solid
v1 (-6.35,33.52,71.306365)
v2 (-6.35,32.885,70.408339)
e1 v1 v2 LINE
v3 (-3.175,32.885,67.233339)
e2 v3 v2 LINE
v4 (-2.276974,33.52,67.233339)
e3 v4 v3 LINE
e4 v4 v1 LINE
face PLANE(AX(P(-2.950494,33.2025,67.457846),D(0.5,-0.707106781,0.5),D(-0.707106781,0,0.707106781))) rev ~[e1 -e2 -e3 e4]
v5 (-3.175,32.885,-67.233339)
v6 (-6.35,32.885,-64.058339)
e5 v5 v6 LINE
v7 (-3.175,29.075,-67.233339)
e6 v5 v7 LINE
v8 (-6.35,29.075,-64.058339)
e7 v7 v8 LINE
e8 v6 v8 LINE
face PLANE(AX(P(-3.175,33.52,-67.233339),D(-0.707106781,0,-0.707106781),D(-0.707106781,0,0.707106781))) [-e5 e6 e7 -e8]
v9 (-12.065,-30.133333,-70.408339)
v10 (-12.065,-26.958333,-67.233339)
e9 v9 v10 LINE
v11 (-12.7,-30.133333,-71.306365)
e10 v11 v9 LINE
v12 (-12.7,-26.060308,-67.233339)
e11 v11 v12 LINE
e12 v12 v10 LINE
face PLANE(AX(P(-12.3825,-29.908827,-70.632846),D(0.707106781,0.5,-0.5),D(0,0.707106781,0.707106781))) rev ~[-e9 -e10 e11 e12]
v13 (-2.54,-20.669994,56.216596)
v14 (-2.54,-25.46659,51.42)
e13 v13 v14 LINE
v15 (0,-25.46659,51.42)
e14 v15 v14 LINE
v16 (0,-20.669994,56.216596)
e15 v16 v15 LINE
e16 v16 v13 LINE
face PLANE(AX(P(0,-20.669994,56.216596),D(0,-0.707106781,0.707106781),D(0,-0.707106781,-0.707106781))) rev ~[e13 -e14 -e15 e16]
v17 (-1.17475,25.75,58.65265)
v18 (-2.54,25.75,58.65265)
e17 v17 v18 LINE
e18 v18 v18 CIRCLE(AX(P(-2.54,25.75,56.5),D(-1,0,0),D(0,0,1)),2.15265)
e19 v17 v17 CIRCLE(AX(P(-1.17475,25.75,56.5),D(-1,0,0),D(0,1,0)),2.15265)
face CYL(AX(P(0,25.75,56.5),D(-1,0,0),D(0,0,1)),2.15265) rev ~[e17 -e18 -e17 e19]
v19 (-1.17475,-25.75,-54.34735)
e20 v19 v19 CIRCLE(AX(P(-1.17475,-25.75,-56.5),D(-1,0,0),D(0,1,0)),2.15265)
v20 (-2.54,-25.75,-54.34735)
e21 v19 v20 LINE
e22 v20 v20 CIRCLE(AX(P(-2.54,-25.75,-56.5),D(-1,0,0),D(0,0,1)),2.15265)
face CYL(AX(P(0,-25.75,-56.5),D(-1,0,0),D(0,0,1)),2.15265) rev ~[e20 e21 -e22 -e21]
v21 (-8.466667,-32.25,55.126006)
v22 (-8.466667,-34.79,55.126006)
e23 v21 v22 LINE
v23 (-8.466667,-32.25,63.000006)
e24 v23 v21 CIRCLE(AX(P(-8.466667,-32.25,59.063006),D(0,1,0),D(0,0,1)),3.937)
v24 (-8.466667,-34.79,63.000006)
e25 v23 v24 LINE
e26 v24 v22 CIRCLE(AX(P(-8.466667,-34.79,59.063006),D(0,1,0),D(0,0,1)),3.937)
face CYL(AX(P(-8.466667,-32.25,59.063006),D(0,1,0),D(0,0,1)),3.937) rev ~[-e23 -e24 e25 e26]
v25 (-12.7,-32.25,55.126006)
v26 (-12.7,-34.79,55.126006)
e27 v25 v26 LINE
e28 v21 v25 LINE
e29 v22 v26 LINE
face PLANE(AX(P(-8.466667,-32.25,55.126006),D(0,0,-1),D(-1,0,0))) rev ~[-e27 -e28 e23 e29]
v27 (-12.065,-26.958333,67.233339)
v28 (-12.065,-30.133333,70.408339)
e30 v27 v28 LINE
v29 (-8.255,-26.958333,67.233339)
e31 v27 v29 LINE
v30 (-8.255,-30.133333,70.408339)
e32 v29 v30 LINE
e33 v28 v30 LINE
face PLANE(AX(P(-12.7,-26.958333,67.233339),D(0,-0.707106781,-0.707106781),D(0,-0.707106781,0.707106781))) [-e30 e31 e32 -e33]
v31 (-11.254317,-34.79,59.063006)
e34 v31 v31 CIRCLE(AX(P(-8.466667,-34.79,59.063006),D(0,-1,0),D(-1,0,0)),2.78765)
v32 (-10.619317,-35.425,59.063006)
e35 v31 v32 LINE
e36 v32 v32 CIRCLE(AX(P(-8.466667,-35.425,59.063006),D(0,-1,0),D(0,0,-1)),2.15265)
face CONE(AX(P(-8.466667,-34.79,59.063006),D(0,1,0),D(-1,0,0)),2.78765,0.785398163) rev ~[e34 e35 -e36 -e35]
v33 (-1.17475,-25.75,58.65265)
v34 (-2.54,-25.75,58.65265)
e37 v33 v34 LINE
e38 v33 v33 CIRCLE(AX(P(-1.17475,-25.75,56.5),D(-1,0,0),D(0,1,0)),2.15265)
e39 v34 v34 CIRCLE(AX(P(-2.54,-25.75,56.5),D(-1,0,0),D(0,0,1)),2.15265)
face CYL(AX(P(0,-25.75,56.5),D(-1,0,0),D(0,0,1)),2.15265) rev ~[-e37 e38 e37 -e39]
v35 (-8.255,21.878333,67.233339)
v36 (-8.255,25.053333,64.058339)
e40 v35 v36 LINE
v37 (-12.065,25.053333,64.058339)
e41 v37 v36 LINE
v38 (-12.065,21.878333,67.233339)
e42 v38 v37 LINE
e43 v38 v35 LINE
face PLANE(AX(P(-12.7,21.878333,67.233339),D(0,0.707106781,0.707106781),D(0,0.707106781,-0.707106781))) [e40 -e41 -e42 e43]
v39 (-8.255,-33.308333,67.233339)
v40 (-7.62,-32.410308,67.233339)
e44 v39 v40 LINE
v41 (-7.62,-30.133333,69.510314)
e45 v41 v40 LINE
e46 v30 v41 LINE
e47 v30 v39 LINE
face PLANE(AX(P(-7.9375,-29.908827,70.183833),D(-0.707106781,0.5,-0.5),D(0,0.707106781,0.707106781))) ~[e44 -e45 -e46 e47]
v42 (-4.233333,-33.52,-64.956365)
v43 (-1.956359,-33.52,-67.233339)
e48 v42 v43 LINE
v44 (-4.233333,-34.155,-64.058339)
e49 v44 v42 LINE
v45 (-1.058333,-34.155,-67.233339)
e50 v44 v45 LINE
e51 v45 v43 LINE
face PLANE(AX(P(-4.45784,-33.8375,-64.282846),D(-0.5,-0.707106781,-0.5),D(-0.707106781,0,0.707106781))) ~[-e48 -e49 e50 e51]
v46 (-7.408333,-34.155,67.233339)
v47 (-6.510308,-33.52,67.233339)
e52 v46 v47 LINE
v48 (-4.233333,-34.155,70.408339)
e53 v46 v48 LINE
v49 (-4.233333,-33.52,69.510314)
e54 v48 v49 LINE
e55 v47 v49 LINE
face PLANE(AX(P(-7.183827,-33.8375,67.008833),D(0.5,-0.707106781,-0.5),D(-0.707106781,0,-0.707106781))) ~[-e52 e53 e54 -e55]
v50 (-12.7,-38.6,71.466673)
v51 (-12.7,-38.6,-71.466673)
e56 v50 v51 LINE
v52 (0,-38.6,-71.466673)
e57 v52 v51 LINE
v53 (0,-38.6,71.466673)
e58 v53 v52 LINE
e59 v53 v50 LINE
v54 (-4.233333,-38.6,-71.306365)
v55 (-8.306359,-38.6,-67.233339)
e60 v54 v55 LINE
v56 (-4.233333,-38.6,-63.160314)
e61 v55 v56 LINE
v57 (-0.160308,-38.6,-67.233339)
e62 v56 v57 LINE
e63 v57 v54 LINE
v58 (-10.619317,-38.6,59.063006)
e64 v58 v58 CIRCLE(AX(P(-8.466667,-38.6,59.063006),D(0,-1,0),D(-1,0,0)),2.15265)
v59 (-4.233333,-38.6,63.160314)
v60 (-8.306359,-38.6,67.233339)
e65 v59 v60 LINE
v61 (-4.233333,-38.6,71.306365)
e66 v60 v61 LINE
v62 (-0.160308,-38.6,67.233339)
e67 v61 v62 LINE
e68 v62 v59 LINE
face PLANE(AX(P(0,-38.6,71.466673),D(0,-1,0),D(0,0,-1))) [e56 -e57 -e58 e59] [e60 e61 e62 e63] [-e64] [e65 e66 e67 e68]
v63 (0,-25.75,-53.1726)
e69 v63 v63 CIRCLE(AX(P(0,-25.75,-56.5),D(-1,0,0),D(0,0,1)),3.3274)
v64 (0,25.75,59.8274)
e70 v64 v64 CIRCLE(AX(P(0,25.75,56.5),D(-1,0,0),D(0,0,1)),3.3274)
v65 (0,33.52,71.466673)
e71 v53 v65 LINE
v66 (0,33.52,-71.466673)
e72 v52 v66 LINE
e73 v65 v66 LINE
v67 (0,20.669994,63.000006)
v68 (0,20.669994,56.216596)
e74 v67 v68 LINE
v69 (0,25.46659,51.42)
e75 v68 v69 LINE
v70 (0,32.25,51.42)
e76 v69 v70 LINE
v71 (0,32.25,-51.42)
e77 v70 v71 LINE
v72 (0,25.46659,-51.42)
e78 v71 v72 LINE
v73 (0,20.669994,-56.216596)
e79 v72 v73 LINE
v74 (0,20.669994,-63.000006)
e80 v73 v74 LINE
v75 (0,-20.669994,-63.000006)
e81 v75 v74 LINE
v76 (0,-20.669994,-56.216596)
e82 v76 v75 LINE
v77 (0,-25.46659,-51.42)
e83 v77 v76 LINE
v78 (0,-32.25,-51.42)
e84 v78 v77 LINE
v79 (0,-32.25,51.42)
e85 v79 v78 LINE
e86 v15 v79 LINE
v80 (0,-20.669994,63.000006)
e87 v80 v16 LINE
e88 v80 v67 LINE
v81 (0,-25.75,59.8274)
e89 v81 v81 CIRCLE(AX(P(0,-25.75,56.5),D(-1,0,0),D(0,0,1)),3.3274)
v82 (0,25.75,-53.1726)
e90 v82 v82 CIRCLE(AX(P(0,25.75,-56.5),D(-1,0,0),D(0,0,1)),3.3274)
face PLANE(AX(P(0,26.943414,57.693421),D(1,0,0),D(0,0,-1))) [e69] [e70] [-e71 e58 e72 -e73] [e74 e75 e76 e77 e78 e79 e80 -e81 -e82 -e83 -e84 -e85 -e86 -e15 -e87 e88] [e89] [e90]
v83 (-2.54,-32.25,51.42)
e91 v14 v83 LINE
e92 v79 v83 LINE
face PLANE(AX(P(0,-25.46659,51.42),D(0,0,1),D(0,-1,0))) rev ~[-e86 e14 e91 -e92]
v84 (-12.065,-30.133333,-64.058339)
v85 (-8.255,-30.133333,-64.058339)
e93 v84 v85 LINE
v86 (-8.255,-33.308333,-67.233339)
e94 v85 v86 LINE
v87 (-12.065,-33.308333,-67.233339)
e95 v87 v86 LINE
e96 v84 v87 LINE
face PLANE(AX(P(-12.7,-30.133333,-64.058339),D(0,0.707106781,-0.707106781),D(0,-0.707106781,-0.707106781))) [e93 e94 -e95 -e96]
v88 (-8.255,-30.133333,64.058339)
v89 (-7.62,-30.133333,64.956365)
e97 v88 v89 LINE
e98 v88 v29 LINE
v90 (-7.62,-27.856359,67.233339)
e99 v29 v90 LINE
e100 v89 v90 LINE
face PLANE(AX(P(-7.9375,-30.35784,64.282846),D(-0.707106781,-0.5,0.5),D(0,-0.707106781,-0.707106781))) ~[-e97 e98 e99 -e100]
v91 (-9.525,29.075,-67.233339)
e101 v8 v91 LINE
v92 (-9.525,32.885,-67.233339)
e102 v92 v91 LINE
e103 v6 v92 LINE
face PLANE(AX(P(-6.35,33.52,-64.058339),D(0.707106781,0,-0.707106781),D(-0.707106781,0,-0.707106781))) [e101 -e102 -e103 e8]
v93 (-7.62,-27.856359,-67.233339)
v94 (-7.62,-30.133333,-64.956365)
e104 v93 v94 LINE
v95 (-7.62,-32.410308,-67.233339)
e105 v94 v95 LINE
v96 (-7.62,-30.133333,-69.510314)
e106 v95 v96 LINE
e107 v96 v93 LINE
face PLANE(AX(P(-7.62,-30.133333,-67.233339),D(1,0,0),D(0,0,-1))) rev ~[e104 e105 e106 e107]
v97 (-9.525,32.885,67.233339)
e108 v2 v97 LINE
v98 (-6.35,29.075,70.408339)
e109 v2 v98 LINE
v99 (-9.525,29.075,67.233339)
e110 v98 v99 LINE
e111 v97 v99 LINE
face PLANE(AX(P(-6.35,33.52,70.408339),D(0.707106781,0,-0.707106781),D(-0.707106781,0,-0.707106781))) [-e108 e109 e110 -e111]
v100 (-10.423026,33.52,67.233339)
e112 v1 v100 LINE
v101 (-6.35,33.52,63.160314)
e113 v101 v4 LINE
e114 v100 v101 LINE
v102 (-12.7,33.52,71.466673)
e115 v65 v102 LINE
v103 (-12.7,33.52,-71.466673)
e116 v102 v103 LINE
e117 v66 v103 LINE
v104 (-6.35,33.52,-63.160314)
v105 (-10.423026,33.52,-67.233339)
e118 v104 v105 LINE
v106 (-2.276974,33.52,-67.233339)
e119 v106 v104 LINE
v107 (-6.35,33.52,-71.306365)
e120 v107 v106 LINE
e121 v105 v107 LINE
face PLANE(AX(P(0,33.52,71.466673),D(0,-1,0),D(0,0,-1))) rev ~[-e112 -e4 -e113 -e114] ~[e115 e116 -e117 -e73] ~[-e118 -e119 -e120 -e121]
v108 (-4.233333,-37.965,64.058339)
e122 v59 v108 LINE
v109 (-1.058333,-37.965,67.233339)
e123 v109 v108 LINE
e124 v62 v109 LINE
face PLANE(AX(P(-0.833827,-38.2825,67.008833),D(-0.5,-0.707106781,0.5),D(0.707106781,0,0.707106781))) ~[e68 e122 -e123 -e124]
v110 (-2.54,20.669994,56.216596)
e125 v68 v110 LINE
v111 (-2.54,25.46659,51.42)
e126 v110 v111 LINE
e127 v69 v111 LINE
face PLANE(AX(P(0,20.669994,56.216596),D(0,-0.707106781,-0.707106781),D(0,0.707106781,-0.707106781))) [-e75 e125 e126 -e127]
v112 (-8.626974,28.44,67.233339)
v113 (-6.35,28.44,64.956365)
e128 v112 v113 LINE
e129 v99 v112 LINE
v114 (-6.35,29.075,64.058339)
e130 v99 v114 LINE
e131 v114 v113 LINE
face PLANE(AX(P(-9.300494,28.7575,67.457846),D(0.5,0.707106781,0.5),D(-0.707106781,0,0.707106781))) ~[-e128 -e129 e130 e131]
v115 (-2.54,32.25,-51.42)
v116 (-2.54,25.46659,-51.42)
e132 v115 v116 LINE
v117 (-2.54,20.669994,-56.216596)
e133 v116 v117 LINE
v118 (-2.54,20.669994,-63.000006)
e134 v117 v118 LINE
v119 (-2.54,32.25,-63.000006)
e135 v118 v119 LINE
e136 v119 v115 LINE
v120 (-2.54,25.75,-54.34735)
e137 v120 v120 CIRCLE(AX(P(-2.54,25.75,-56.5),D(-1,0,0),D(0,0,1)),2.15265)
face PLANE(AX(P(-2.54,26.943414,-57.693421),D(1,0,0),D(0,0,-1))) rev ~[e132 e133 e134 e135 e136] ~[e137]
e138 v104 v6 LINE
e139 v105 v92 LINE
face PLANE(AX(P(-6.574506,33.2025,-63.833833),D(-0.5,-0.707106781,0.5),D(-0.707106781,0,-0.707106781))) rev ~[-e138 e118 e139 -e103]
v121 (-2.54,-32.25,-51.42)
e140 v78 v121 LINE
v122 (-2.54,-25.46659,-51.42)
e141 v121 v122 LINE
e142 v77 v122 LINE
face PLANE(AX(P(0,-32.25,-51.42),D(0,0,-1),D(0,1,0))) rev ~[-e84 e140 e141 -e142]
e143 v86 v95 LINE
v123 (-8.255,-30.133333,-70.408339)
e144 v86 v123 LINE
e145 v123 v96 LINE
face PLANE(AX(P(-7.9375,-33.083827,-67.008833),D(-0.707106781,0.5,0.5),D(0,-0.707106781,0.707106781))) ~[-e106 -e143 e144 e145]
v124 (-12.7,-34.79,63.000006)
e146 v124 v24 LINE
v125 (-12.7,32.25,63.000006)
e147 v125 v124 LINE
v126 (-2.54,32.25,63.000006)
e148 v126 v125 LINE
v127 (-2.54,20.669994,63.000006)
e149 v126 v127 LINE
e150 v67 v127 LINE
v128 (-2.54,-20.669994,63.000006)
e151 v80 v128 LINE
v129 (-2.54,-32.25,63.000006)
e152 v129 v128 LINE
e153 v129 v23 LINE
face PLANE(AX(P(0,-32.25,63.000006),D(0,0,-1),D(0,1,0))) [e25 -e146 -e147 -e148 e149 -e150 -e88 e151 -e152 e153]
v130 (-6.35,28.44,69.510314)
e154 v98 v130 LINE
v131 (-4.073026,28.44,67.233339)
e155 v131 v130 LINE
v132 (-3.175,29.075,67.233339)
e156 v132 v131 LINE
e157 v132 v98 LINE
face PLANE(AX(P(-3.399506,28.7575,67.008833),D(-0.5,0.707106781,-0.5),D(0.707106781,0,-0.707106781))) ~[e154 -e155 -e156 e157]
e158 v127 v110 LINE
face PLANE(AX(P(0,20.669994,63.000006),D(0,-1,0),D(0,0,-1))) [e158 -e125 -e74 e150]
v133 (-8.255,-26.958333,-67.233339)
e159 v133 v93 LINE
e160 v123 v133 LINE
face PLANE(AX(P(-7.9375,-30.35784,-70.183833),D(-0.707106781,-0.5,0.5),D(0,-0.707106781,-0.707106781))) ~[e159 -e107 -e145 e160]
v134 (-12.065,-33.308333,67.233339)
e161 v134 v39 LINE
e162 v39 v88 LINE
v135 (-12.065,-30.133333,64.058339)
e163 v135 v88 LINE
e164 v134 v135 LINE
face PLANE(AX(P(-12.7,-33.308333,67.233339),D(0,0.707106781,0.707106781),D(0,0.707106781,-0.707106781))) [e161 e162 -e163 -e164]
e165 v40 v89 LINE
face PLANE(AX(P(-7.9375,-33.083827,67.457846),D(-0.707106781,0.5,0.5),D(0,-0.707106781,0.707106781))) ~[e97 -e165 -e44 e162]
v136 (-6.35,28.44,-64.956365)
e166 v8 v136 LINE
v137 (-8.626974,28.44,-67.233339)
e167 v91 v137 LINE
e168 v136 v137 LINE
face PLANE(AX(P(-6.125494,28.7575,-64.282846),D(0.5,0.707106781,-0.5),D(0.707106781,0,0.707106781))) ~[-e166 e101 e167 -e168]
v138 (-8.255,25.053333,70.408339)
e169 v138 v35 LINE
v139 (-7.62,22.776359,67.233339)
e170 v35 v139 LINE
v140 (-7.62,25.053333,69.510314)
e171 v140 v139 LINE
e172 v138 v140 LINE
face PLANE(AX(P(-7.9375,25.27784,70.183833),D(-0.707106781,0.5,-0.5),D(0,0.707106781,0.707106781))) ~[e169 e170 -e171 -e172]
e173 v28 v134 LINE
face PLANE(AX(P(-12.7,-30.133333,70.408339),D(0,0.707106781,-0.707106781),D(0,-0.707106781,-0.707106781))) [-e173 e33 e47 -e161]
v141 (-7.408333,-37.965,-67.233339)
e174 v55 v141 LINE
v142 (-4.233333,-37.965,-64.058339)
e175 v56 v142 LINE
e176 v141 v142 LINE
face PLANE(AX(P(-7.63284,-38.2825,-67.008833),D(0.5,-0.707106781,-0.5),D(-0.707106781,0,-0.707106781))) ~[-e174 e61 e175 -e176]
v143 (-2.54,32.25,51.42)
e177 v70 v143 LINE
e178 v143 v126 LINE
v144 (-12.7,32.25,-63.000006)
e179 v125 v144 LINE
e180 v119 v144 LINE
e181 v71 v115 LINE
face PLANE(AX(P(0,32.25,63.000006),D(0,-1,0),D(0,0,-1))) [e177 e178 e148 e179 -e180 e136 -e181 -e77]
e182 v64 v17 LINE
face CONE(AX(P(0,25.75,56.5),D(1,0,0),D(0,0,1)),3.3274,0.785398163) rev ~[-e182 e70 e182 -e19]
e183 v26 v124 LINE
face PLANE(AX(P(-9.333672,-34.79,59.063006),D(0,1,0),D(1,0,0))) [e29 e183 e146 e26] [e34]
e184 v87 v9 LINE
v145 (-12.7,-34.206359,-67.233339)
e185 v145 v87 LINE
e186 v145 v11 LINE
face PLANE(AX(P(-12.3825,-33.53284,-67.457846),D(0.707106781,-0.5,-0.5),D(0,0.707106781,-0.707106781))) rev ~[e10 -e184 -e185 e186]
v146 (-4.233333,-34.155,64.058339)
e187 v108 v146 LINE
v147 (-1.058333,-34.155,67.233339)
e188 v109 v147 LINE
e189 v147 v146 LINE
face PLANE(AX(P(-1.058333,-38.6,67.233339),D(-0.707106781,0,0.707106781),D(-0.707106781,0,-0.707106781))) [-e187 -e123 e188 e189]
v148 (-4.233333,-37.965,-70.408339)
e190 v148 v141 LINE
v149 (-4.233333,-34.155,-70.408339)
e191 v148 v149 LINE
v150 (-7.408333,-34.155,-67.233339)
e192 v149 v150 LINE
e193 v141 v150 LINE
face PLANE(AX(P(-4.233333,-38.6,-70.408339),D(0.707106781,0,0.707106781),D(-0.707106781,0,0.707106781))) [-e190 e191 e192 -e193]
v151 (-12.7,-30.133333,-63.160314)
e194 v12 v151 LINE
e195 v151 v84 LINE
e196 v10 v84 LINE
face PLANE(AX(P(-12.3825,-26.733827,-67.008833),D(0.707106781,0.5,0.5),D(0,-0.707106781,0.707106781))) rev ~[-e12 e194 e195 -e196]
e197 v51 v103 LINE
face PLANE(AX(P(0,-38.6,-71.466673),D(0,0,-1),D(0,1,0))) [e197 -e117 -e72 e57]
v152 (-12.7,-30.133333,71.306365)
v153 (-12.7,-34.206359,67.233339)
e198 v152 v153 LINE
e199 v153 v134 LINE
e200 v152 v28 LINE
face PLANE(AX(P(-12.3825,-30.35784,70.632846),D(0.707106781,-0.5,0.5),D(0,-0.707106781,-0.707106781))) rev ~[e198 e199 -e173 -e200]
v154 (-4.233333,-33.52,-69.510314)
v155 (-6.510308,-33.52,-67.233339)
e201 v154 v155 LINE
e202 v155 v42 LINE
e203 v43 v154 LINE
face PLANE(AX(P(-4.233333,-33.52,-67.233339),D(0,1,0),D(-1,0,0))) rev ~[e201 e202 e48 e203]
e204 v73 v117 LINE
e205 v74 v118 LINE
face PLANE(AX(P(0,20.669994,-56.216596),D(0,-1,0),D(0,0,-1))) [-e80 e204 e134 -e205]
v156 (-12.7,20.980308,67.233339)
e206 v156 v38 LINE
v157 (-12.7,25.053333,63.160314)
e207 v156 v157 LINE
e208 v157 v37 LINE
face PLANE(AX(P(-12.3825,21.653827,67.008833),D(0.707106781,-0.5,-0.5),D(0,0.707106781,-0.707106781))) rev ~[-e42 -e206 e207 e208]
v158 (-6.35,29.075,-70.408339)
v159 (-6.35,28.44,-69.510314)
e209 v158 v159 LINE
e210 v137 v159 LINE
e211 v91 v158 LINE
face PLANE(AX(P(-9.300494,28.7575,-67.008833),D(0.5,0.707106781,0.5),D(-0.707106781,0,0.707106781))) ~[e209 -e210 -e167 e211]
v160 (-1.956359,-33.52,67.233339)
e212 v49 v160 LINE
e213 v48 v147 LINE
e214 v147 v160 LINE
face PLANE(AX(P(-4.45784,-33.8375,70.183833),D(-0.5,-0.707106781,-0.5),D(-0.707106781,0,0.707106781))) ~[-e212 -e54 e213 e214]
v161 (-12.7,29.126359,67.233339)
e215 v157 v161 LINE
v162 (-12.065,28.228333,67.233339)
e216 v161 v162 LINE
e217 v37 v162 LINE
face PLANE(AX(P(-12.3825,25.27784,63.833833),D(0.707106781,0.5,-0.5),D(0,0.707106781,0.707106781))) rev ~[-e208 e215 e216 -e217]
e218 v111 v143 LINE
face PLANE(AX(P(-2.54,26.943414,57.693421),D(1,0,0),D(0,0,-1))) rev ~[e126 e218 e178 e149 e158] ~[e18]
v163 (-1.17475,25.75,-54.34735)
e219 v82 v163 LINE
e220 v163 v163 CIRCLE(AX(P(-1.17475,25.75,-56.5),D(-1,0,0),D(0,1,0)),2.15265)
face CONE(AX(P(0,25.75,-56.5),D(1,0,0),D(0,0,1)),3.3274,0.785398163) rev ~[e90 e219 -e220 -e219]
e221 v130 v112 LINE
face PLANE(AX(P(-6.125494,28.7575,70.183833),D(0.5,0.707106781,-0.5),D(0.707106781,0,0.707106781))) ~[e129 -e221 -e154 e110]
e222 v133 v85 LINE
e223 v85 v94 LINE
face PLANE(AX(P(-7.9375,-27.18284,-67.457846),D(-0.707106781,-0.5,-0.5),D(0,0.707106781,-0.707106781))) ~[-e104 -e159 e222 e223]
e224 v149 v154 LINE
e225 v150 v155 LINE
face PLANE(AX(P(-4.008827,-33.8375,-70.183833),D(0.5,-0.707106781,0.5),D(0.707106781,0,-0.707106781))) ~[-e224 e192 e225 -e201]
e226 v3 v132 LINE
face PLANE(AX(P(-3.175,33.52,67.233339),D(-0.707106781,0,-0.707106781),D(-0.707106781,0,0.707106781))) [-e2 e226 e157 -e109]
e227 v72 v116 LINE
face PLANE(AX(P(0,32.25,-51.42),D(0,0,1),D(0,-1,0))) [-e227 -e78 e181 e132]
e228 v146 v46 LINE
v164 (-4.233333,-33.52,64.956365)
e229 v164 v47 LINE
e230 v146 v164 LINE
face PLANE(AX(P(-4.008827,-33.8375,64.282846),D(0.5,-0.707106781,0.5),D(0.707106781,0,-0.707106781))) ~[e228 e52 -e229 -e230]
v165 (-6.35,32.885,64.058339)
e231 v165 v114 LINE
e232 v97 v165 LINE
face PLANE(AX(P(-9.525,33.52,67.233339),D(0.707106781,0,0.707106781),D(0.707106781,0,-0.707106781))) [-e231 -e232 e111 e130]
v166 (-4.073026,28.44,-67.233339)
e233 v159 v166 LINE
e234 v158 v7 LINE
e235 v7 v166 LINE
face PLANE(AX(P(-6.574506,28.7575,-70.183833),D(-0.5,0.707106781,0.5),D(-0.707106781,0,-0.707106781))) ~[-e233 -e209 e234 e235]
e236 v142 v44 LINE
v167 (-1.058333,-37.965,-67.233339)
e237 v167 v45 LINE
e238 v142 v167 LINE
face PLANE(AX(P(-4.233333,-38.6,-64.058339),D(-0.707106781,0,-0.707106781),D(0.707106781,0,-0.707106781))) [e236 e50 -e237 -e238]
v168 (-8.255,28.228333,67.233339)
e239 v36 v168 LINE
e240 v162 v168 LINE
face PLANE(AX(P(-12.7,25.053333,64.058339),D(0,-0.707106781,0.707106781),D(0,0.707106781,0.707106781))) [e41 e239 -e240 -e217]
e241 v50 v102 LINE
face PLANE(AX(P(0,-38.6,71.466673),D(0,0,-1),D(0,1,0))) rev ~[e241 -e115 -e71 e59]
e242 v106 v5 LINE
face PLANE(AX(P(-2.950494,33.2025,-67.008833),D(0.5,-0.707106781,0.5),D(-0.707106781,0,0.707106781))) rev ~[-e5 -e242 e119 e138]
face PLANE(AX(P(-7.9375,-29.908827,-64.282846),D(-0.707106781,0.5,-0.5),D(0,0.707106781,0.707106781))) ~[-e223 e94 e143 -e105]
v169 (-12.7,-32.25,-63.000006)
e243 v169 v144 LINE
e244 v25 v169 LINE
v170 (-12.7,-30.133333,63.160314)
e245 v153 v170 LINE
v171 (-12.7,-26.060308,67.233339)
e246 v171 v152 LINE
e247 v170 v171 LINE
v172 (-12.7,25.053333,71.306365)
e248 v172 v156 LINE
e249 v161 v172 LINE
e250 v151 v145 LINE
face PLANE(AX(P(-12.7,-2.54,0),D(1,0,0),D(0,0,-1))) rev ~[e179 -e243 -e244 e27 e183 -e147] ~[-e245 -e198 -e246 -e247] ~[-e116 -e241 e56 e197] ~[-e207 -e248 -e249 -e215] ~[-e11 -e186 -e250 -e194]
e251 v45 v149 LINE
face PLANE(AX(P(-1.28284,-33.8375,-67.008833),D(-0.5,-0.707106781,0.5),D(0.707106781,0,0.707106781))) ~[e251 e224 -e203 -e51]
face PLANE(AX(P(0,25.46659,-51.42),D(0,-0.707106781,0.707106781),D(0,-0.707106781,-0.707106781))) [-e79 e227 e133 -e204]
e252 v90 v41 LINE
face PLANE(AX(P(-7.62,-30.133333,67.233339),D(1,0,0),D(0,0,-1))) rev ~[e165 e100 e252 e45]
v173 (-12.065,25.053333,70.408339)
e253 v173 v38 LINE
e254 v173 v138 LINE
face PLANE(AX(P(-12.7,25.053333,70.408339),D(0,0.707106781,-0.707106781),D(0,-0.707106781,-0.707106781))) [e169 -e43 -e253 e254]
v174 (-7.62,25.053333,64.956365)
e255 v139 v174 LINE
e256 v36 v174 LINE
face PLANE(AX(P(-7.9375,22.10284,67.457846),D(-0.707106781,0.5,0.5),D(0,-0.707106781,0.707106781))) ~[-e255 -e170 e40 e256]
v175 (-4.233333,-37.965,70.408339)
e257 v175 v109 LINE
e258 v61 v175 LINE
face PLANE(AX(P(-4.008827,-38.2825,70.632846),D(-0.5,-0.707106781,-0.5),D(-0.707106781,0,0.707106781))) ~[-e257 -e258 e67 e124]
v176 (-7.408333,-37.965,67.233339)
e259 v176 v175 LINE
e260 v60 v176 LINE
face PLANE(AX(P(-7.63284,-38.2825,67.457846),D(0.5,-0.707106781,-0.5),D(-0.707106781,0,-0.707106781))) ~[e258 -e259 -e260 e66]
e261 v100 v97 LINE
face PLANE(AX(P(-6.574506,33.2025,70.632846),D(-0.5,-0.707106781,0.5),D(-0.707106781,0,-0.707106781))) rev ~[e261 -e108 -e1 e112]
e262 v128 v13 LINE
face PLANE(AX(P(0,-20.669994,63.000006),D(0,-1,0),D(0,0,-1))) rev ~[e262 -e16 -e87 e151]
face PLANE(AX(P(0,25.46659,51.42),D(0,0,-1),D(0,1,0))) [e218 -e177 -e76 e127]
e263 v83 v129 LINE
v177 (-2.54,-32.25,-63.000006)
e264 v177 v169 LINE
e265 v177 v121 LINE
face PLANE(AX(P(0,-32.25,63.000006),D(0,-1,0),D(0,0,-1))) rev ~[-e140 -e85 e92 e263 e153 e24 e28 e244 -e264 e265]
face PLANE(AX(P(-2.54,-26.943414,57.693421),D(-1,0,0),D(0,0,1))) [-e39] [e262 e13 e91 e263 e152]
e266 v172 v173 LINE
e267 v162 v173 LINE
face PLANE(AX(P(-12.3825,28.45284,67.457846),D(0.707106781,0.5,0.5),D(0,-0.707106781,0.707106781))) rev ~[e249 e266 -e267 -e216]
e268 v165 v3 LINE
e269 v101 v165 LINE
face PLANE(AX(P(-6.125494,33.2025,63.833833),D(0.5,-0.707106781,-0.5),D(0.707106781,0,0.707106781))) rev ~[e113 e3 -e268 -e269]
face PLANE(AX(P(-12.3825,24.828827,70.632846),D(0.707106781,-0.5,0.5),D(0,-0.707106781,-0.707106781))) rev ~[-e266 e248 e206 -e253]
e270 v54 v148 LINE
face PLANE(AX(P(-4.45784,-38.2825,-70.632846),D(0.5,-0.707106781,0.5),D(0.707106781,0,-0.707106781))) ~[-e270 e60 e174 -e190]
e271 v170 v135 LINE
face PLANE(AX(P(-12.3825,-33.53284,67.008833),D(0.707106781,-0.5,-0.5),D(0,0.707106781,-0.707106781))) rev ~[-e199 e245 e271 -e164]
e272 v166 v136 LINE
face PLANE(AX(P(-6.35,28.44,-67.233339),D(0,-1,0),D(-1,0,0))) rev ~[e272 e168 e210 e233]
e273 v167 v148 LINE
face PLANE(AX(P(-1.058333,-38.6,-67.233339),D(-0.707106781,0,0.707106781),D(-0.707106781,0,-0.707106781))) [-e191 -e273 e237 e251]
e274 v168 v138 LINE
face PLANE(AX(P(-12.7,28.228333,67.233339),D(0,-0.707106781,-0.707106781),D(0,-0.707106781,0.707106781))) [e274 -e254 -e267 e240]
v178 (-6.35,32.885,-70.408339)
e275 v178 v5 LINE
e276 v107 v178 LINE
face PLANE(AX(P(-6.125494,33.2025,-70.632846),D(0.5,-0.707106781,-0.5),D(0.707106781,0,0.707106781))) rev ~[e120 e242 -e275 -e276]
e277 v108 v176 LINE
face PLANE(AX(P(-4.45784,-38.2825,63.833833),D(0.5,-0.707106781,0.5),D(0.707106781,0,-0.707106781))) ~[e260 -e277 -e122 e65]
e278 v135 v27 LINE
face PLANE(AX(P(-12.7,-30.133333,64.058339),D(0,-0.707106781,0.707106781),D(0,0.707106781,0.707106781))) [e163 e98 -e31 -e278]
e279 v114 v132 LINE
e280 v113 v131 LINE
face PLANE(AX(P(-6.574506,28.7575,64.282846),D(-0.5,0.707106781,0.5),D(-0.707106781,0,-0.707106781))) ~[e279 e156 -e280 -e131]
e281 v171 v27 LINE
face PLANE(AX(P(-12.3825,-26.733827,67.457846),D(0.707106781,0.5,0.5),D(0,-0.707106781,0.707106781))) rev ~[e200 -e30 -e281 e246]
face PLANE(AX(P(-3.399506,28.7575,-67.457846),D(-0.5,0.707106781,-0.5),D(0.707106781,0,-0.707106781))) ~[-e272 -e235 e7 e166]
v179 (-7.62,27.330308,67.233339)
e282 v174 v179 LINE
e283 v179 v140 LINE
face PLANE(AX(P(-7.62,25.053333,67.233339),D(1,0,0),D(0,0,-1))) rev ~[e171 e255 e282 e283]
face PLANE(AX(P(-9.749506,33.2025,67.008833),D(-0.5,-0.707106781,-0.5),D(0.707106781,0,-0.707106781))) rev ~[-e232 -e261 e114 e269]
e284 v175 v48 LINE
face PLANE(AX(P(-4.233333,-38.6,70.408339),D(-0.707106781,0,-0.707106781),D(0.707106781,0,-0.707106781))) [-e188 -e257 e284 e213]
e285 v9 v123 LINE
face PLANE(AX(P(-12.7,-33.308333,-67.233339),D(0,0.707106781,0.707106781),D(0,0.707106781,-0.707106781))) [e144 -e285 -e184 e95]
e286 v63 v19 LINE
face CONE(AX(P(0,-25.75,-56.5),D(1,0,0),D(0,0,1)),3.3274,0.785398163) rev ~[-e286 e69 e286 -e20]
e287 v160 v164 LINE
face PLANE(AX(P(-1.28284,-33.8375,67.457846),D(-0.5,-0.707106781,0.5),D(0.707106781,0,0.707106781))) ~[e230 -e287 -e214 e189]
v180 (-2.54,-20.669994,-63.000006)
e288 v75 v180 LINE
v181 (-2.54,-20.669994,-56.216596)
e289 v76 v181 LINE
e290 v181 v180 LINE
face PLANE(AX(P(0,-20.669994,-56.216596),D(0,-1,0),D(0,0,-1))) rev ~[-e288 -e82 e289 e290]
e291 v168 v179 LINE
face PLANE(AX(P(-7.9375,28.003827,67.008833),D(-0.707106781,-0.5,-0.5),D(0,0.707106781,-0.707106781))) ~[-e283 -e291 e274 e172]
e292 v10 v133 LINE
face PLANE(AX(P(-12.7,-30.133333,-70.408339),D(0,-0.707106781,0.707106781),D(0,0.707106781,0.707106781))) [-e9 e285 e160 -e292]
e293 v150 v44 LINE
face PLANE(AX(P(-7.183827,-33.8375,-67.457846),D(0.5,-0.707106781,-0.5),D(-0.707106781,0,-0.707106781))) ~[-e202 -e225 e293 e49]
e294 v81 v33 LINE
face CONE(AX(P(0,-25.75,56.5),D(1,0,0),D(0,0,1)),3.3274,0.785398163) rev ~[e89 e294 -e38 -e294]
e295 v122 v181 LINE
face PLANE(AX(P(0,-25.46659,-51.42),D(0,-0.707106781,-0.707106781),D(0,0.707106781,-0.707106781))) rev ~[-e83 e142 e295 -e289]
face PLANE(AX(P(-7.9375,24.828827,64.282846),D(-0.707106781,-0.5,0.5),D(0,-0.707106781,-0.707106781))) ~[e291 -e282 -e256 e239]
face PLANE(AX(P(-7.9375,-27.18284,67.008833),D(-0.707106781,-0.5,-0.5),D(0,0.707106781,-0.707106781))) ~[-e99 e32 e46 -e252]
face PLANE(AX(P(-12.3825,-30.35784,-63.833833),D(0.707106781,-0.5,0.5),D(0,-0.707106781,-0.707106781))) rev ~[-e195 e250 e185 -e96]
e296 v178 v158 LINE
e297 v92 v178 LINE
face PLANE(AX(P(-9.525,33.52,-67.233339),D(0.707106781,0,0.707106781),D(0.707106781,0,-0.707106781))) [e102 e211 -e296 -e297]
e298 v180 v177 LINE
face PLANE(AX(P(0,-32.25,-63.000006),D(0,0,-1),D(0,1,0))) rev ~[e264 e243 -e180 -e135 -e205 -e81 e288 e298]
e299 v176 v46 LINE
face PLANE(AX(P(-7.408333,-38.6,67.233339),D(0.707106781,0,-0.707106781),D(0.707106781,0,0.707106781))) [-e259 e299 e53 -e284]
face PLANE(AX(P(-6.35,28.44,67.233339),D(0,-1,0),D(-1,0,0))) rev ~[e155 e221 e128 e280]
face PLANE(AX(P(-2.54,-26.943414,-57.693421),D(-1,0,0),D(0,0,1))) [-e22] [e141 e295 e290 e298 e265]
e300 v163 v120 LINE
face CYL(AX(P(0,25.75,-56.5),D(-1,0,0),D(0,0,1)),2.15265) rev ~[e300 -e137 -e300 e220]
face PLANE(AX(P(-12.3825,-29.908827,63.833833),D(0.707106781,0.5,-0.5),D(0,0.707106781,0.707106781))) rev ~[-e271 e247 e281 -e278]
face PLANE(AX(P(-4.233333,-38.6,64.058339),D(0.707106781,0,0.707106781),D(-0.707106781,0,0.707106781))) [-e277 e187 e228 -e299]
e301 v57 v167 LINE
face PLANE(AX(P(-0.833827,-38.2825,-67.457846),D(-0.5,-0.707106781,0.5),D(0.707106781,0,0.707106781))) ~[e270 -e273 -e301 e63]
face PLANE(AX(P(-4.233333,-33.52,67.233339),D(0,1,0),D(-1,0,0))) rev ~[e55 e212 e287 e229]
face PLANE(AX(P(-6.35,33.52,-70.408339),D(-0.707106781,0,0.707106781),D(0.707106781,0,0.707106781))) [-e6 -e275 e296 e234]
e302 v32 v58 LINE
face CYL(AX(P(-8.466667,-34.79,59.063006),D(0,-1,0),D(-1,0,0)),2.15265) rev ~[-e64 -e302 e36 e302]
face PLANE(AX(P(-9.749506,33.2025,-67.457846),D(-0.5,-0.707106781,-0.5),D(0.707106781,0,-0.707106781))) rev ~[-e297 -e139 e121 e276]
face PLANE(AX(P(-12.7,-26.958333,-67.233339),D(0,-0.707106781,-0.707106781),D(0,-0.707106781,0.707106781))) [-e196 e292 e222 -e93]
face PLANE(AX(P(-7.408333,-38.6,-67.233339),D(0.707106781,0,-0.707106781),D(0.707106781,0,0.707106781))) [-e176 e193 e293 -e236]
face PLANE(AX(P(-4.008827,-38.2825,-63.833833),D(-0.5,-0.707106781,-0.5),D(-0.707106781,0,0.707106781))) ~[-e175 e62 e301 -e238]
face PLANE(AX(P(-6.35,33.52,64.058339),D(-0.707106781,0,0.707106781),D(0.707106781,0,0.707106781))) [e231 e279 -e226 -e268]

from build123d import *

# Parameters (mm, degrees)
SKETCH1_W                              = 142.9333456
SKETCH1_H                              = 72.120000116
SKETCH1_W_2                            = 126.000012266
SKETCH1_H_2                            = 64.500000116
BOSS_EXTRUDE1_DEPTH                    = 12.7
CUT_EXTRUDE1_DEPTH                     = 5.08
CUT_EXTRUDE2_DEPTH                     = 5.08
CUT_EXTRUDE3_DEPTH                     = 5.08
CHAMFER1_SIZE                          = 0.635
CUT_EXTRUDE4_DEPTH                     = 2.54
F_18_0_1695_DIAMETER_HOLE1_D           = 4.3053
F_18_0_1695_DIAMETER_HOLE1_DEPTH       = 3.81
F_18_0_1695_DIAMETER_HOLE1_CSINK_D     = 5.5753
F_18_0_1695_DIAMETER_HOLE1_CSINK_ANGLE = 90
BOSS_EXTRUDE2_DEPTH                    = 2.54
F_6_CLEARANCE_HOLE1_D                  = 4.3053
F_6_CLEARANCE_HOLE1_CSINK_D            = 6.6548
F_6_CLEARANCE_HOLE1_CSINK_ANGLE        = 90


with BuildPart() as part:
    # Sketch1 → Boss-Extrude1 (new body)
    with BuildSketch(Plane(origin=(0, 0, 0), x_dir=(0, 0, -1), z_dir=(1, 0, 0))):
        with Locations((0, -2.54)):
            Rectangle(SKETCH1_W, SKETCH1_H)
        Rectangle(SKETCH1_W_2, SKETCH1_H_2, mode=Mode.SUBTRACT)
    extrude(amount=-BOSS_EXTRUDE1_DEPTH)

    # Sketch2 → Cut-Extrude1 (cut)
    with BuildSketch(Plane(origin=(0, 33.520000058, 0), x_dir=(1, 0, 0), z_dir=(0, 1, 0))):
        Polygon((-3.175, 67.233339467), (-6.35, 64.058339467), (-9.525, 67.233339467), (-6.35, 70.408339467), align=None)
        Polygon((-3.175, -67.233339467), (-6.35, -70.408339467), (-9.525, -67.233339467), (-6.35, -64.058339467), align=None)
    extrude(amount=-CUT_EXTRUDE1_DEPTH, mode=Mode.SUBTRACT)

    # Sketch3 → Cut-Extrude2 (cut)
    with BuildSketch(Plane.ZY.offset(12.7)):
        Polygon((70.408339467, 25.053333392), (67.233339467, 21.878333392), (64.058339467, 25.053333392), (67.233339467, 28.228333392), align=None)
        Polygon((-64.058339467, -30.133333392), (-67.233339467, -33.308333392), (-70.408339467, -30.133333392), (-67.233339467, -26.958333392), align=None)
        Polygon((64.058339467, -30.133333392), (67.233339467, -26.958333392), (70.408339467, -30.133333392), (67.233339467, -33.308333392), align=None)
    extrude(amount=-CUT_EXTRUDE2_DEPTH, mode=Mode.SUBTRACT)

    # Sketch5 → Cut-Extrude3 (cut)
    with BuildSketch(Plane.XZ.offset(38.600000058)):
        Polygon((-4.233333333, -70.408339467), (-7.408333333, -67.233339467), (-4.233333333, -64.058339467), (-1.058333333, -67.233339467), align=None)
        Polygon((-4.233333333, 64.058339467), (-7.408333333, 67.233339467), (-4.233333333, 70.408339467), (-1.058333333, 67.233339467), align=None)
    extrude(amount=-CUT_EXTRUDE3_DEPTH, mode=Mode.SUBTRACT)

    # Chamfer1
    chamfer1_edges = [part.edges().sort_by_distance(p)[0] for p in [
        (-2.645833333, -33.520000058, -68.820839467),
        (-5.820833333, -33.520000058, -68.820839467),
        (-5.820833333, -33.520000058, -65.645839467),
        (-2.645833333, -33.520000058, -65.645839467),
        (-2.645833333, -38.600000058, -68.820839467),
        (-2.645833333, -38.600000058, -65.645839467),
        (-5.820833333, -38.600000058, -65.645839467),
        (-5.820833333, -38.600000058, -68.820839467),
        (-2.645833333, -33.520000058, 65.645839467),
        (-5.820833333, -33.520000058, 65.645839467),
        (-5.820833333, -33.520000058, 68.820839467),
        (-2.645833333, -33.520000058, 68.820839467),
        (-2.645833333, -38.600000058, 65.645839467),
        (-2.645833333, -38.600000058, 68.820839467),
        (-5.820833333, -38.600000058, 68.820839467),
        (-5.820833333, -38.600000058, 65.645839467),
        (-4.7625, 28.440000058, -68.820839467),
        (-4.7625, 28.440000058, -65.645839467),
        (-7.9375, 28.440000058, -65.645839467),
        (-7.9375, 28.440000058, -68.820839467),
        (-4.7625, 33.520000058, -68.820839467),
        (-7.9375, 33.520000058, -68.820839467),
        (-7.9375, 33.520000058, -65.645839467),
        (-4.7625, 33.520000058, -65.645839467),
        (-4.7625, 28.440000058, 65.645839467),
        (-4.7625, 28.440000058, 68.820839467),
        (-7.9375, 28.440000058, 68.820839467),
        (-7.9375, 28.440000058, 65.645839467),
        (-4.7625, 33.520000058, 65.645839467),
        (-7.9375, 33.520000058, 65.645839467),
        (-7.9375, 33.520000058, 68.820839467),
        (-4.7625, 33.520000058, 68.820839467),
        (-7.62, 26.640833392, 68.820839467),
        (-7.62, 23.465833392, 68.820839467),
        (-7.62, 23.465833392, 65.645839467),
        (-7.62, 26.640833392, 65.645839467),
        (-12.7, 26.640833392, 68.820839467),
        (-12.7, 26.640833392, 65.645839467),
        (-12.7, 23.465833392, 65.645839467),
        (-12.7, 23.465833392, 68.820839467),
        (-7.62, -28.545833392, -65.645839467),
        (-7.62, -31.720833392, -65.645839467),
        (-7.62, -31.720833392, -68.820839467),
        (-7.62, -28.545833392, -68.820839467),
        (-12.7, -28.545833392, -65.645839467),
        (-12.7, -28.545833392, -68.820839467),
        (-12.7, -31.720833392, -68.820839467),
        (-12.7, -31.720833392, -65.645839467),
        (-7.62, -31.720833392, 65.645839467),
        (-7.62, -28.545833392, 65.645839467),
        (-7.62, -28.545833392, 68.820839467),
        (-7.62, -31.720833392, 68.820839467),
        (-12.7, -31.720833392, 65.645839467),
        (-12.7, -31.720833392, 68.820839467),
        (-12.7, -28.545833392, 68.820839467),
        (-12.7, -28.545833392, 65.645839467),
    ]]
    chamfer(chamfer1_edges, length=CHAMFER1_SIZE)

    # Sketch6 → Cut-Extrude4 (cut)
    with BuildSketch(Plane(origin=(0, -32.250000058, 0), x_dir=(1, 0, 0), z_dir=(0, 1, 0))):
        with BuildLine():
            Line((-8.466666582, -55.126006133), (-12.7, -55.126006133))
            Line((-12.7, -55.126006133), (-12.7, -63.000006133))
            Line((-12.7, -63.000006133), (-8.466666582, -63.000006133))
            ThreePointArc((-8.466666582, -63.000006133), (-4.529666582, -59.063006133), (-8.466666582, -55.126006133))
        make_face()
    extrude(amount=-CUT_EXTRUDE4_DEPTH, mode=Mode.SUBTRACT)

    # #18 (0.1695) Diameter Hole1
    with Locations(Plane(origin=(0, -34.790000058, 0), x_dir=(1, 0, 0), z_dir=(0, 1, 0))):
        with Locations((-8.466666582, -59.063006133)):
            CounterSinkHole(F_18_0_1695_DIAMETER_HOLE1_D / 2, F_18_0_1695_DIAMETER_HOLE1_CSINK_D / 2, depth=F_18_0_1695_DIAMETER_HOLE1_DEPTH, counter_sink_angle=F_18_0_1695_DIAMETER_HOLE1_CSINK_ANGLE)

    # Sketch9 → Boss-Extrude2 (add)
    with BuildSketch(Plane(origin=(0, 0, 0), x_dir=(0, 0, -1), z_dir=(1, 0, 0))):
        Polygon((-63.000006133, 20.669993925), (-56.216595593, 20.669993925), (-51.42, 25.466589518), (-51.42, 32.250000058), (-63.000006133, 32.250000058), align=None)
        Polygon((-63.000006133, -20.669993925), (-56.216595593, -20.669993925), (-51.42, -25.466589518), (-51.42, -32.250000058), (-63.000006133, -32.250000058), align=None)
        Polygon((51.42, -32.250000058), (51.42, -25.466589518), (56.216595593, -20.669993925), (63.000006133, -20.669993925), (63.000006133, -32.250000058), align=None)
        Polygon((51.42, 32.250000058), (51.42, 25.466589518), (56.216595593, 20.669993925), (63.000006133, 20.669993925), (63.000006133, 32.250000058), align=None)
    extrude(amount=-BOSS_EXTRUDE2_DEPTH)

    # #6 Clearance Hole1 (through all)
    with Locations(Plane(origin=(0, 0, 0), x_dir=(0, 0, -1), z_dir=(1, 0, 0))):
        with Locations((-56.5, 25.75), (56.5, 25.75), (56.5, -25.75), (-56.5, -25.75)):
            CounterSinkHole(F_6_CLEARANCE_HOLE1_D / 2, F_6_CLEARANCE_HOLE1_CSINK_D / 2, counter_sink_angle=F_6_CLEARANCE_HOLE1_CSINK_ANGLE)


solid = part.part
